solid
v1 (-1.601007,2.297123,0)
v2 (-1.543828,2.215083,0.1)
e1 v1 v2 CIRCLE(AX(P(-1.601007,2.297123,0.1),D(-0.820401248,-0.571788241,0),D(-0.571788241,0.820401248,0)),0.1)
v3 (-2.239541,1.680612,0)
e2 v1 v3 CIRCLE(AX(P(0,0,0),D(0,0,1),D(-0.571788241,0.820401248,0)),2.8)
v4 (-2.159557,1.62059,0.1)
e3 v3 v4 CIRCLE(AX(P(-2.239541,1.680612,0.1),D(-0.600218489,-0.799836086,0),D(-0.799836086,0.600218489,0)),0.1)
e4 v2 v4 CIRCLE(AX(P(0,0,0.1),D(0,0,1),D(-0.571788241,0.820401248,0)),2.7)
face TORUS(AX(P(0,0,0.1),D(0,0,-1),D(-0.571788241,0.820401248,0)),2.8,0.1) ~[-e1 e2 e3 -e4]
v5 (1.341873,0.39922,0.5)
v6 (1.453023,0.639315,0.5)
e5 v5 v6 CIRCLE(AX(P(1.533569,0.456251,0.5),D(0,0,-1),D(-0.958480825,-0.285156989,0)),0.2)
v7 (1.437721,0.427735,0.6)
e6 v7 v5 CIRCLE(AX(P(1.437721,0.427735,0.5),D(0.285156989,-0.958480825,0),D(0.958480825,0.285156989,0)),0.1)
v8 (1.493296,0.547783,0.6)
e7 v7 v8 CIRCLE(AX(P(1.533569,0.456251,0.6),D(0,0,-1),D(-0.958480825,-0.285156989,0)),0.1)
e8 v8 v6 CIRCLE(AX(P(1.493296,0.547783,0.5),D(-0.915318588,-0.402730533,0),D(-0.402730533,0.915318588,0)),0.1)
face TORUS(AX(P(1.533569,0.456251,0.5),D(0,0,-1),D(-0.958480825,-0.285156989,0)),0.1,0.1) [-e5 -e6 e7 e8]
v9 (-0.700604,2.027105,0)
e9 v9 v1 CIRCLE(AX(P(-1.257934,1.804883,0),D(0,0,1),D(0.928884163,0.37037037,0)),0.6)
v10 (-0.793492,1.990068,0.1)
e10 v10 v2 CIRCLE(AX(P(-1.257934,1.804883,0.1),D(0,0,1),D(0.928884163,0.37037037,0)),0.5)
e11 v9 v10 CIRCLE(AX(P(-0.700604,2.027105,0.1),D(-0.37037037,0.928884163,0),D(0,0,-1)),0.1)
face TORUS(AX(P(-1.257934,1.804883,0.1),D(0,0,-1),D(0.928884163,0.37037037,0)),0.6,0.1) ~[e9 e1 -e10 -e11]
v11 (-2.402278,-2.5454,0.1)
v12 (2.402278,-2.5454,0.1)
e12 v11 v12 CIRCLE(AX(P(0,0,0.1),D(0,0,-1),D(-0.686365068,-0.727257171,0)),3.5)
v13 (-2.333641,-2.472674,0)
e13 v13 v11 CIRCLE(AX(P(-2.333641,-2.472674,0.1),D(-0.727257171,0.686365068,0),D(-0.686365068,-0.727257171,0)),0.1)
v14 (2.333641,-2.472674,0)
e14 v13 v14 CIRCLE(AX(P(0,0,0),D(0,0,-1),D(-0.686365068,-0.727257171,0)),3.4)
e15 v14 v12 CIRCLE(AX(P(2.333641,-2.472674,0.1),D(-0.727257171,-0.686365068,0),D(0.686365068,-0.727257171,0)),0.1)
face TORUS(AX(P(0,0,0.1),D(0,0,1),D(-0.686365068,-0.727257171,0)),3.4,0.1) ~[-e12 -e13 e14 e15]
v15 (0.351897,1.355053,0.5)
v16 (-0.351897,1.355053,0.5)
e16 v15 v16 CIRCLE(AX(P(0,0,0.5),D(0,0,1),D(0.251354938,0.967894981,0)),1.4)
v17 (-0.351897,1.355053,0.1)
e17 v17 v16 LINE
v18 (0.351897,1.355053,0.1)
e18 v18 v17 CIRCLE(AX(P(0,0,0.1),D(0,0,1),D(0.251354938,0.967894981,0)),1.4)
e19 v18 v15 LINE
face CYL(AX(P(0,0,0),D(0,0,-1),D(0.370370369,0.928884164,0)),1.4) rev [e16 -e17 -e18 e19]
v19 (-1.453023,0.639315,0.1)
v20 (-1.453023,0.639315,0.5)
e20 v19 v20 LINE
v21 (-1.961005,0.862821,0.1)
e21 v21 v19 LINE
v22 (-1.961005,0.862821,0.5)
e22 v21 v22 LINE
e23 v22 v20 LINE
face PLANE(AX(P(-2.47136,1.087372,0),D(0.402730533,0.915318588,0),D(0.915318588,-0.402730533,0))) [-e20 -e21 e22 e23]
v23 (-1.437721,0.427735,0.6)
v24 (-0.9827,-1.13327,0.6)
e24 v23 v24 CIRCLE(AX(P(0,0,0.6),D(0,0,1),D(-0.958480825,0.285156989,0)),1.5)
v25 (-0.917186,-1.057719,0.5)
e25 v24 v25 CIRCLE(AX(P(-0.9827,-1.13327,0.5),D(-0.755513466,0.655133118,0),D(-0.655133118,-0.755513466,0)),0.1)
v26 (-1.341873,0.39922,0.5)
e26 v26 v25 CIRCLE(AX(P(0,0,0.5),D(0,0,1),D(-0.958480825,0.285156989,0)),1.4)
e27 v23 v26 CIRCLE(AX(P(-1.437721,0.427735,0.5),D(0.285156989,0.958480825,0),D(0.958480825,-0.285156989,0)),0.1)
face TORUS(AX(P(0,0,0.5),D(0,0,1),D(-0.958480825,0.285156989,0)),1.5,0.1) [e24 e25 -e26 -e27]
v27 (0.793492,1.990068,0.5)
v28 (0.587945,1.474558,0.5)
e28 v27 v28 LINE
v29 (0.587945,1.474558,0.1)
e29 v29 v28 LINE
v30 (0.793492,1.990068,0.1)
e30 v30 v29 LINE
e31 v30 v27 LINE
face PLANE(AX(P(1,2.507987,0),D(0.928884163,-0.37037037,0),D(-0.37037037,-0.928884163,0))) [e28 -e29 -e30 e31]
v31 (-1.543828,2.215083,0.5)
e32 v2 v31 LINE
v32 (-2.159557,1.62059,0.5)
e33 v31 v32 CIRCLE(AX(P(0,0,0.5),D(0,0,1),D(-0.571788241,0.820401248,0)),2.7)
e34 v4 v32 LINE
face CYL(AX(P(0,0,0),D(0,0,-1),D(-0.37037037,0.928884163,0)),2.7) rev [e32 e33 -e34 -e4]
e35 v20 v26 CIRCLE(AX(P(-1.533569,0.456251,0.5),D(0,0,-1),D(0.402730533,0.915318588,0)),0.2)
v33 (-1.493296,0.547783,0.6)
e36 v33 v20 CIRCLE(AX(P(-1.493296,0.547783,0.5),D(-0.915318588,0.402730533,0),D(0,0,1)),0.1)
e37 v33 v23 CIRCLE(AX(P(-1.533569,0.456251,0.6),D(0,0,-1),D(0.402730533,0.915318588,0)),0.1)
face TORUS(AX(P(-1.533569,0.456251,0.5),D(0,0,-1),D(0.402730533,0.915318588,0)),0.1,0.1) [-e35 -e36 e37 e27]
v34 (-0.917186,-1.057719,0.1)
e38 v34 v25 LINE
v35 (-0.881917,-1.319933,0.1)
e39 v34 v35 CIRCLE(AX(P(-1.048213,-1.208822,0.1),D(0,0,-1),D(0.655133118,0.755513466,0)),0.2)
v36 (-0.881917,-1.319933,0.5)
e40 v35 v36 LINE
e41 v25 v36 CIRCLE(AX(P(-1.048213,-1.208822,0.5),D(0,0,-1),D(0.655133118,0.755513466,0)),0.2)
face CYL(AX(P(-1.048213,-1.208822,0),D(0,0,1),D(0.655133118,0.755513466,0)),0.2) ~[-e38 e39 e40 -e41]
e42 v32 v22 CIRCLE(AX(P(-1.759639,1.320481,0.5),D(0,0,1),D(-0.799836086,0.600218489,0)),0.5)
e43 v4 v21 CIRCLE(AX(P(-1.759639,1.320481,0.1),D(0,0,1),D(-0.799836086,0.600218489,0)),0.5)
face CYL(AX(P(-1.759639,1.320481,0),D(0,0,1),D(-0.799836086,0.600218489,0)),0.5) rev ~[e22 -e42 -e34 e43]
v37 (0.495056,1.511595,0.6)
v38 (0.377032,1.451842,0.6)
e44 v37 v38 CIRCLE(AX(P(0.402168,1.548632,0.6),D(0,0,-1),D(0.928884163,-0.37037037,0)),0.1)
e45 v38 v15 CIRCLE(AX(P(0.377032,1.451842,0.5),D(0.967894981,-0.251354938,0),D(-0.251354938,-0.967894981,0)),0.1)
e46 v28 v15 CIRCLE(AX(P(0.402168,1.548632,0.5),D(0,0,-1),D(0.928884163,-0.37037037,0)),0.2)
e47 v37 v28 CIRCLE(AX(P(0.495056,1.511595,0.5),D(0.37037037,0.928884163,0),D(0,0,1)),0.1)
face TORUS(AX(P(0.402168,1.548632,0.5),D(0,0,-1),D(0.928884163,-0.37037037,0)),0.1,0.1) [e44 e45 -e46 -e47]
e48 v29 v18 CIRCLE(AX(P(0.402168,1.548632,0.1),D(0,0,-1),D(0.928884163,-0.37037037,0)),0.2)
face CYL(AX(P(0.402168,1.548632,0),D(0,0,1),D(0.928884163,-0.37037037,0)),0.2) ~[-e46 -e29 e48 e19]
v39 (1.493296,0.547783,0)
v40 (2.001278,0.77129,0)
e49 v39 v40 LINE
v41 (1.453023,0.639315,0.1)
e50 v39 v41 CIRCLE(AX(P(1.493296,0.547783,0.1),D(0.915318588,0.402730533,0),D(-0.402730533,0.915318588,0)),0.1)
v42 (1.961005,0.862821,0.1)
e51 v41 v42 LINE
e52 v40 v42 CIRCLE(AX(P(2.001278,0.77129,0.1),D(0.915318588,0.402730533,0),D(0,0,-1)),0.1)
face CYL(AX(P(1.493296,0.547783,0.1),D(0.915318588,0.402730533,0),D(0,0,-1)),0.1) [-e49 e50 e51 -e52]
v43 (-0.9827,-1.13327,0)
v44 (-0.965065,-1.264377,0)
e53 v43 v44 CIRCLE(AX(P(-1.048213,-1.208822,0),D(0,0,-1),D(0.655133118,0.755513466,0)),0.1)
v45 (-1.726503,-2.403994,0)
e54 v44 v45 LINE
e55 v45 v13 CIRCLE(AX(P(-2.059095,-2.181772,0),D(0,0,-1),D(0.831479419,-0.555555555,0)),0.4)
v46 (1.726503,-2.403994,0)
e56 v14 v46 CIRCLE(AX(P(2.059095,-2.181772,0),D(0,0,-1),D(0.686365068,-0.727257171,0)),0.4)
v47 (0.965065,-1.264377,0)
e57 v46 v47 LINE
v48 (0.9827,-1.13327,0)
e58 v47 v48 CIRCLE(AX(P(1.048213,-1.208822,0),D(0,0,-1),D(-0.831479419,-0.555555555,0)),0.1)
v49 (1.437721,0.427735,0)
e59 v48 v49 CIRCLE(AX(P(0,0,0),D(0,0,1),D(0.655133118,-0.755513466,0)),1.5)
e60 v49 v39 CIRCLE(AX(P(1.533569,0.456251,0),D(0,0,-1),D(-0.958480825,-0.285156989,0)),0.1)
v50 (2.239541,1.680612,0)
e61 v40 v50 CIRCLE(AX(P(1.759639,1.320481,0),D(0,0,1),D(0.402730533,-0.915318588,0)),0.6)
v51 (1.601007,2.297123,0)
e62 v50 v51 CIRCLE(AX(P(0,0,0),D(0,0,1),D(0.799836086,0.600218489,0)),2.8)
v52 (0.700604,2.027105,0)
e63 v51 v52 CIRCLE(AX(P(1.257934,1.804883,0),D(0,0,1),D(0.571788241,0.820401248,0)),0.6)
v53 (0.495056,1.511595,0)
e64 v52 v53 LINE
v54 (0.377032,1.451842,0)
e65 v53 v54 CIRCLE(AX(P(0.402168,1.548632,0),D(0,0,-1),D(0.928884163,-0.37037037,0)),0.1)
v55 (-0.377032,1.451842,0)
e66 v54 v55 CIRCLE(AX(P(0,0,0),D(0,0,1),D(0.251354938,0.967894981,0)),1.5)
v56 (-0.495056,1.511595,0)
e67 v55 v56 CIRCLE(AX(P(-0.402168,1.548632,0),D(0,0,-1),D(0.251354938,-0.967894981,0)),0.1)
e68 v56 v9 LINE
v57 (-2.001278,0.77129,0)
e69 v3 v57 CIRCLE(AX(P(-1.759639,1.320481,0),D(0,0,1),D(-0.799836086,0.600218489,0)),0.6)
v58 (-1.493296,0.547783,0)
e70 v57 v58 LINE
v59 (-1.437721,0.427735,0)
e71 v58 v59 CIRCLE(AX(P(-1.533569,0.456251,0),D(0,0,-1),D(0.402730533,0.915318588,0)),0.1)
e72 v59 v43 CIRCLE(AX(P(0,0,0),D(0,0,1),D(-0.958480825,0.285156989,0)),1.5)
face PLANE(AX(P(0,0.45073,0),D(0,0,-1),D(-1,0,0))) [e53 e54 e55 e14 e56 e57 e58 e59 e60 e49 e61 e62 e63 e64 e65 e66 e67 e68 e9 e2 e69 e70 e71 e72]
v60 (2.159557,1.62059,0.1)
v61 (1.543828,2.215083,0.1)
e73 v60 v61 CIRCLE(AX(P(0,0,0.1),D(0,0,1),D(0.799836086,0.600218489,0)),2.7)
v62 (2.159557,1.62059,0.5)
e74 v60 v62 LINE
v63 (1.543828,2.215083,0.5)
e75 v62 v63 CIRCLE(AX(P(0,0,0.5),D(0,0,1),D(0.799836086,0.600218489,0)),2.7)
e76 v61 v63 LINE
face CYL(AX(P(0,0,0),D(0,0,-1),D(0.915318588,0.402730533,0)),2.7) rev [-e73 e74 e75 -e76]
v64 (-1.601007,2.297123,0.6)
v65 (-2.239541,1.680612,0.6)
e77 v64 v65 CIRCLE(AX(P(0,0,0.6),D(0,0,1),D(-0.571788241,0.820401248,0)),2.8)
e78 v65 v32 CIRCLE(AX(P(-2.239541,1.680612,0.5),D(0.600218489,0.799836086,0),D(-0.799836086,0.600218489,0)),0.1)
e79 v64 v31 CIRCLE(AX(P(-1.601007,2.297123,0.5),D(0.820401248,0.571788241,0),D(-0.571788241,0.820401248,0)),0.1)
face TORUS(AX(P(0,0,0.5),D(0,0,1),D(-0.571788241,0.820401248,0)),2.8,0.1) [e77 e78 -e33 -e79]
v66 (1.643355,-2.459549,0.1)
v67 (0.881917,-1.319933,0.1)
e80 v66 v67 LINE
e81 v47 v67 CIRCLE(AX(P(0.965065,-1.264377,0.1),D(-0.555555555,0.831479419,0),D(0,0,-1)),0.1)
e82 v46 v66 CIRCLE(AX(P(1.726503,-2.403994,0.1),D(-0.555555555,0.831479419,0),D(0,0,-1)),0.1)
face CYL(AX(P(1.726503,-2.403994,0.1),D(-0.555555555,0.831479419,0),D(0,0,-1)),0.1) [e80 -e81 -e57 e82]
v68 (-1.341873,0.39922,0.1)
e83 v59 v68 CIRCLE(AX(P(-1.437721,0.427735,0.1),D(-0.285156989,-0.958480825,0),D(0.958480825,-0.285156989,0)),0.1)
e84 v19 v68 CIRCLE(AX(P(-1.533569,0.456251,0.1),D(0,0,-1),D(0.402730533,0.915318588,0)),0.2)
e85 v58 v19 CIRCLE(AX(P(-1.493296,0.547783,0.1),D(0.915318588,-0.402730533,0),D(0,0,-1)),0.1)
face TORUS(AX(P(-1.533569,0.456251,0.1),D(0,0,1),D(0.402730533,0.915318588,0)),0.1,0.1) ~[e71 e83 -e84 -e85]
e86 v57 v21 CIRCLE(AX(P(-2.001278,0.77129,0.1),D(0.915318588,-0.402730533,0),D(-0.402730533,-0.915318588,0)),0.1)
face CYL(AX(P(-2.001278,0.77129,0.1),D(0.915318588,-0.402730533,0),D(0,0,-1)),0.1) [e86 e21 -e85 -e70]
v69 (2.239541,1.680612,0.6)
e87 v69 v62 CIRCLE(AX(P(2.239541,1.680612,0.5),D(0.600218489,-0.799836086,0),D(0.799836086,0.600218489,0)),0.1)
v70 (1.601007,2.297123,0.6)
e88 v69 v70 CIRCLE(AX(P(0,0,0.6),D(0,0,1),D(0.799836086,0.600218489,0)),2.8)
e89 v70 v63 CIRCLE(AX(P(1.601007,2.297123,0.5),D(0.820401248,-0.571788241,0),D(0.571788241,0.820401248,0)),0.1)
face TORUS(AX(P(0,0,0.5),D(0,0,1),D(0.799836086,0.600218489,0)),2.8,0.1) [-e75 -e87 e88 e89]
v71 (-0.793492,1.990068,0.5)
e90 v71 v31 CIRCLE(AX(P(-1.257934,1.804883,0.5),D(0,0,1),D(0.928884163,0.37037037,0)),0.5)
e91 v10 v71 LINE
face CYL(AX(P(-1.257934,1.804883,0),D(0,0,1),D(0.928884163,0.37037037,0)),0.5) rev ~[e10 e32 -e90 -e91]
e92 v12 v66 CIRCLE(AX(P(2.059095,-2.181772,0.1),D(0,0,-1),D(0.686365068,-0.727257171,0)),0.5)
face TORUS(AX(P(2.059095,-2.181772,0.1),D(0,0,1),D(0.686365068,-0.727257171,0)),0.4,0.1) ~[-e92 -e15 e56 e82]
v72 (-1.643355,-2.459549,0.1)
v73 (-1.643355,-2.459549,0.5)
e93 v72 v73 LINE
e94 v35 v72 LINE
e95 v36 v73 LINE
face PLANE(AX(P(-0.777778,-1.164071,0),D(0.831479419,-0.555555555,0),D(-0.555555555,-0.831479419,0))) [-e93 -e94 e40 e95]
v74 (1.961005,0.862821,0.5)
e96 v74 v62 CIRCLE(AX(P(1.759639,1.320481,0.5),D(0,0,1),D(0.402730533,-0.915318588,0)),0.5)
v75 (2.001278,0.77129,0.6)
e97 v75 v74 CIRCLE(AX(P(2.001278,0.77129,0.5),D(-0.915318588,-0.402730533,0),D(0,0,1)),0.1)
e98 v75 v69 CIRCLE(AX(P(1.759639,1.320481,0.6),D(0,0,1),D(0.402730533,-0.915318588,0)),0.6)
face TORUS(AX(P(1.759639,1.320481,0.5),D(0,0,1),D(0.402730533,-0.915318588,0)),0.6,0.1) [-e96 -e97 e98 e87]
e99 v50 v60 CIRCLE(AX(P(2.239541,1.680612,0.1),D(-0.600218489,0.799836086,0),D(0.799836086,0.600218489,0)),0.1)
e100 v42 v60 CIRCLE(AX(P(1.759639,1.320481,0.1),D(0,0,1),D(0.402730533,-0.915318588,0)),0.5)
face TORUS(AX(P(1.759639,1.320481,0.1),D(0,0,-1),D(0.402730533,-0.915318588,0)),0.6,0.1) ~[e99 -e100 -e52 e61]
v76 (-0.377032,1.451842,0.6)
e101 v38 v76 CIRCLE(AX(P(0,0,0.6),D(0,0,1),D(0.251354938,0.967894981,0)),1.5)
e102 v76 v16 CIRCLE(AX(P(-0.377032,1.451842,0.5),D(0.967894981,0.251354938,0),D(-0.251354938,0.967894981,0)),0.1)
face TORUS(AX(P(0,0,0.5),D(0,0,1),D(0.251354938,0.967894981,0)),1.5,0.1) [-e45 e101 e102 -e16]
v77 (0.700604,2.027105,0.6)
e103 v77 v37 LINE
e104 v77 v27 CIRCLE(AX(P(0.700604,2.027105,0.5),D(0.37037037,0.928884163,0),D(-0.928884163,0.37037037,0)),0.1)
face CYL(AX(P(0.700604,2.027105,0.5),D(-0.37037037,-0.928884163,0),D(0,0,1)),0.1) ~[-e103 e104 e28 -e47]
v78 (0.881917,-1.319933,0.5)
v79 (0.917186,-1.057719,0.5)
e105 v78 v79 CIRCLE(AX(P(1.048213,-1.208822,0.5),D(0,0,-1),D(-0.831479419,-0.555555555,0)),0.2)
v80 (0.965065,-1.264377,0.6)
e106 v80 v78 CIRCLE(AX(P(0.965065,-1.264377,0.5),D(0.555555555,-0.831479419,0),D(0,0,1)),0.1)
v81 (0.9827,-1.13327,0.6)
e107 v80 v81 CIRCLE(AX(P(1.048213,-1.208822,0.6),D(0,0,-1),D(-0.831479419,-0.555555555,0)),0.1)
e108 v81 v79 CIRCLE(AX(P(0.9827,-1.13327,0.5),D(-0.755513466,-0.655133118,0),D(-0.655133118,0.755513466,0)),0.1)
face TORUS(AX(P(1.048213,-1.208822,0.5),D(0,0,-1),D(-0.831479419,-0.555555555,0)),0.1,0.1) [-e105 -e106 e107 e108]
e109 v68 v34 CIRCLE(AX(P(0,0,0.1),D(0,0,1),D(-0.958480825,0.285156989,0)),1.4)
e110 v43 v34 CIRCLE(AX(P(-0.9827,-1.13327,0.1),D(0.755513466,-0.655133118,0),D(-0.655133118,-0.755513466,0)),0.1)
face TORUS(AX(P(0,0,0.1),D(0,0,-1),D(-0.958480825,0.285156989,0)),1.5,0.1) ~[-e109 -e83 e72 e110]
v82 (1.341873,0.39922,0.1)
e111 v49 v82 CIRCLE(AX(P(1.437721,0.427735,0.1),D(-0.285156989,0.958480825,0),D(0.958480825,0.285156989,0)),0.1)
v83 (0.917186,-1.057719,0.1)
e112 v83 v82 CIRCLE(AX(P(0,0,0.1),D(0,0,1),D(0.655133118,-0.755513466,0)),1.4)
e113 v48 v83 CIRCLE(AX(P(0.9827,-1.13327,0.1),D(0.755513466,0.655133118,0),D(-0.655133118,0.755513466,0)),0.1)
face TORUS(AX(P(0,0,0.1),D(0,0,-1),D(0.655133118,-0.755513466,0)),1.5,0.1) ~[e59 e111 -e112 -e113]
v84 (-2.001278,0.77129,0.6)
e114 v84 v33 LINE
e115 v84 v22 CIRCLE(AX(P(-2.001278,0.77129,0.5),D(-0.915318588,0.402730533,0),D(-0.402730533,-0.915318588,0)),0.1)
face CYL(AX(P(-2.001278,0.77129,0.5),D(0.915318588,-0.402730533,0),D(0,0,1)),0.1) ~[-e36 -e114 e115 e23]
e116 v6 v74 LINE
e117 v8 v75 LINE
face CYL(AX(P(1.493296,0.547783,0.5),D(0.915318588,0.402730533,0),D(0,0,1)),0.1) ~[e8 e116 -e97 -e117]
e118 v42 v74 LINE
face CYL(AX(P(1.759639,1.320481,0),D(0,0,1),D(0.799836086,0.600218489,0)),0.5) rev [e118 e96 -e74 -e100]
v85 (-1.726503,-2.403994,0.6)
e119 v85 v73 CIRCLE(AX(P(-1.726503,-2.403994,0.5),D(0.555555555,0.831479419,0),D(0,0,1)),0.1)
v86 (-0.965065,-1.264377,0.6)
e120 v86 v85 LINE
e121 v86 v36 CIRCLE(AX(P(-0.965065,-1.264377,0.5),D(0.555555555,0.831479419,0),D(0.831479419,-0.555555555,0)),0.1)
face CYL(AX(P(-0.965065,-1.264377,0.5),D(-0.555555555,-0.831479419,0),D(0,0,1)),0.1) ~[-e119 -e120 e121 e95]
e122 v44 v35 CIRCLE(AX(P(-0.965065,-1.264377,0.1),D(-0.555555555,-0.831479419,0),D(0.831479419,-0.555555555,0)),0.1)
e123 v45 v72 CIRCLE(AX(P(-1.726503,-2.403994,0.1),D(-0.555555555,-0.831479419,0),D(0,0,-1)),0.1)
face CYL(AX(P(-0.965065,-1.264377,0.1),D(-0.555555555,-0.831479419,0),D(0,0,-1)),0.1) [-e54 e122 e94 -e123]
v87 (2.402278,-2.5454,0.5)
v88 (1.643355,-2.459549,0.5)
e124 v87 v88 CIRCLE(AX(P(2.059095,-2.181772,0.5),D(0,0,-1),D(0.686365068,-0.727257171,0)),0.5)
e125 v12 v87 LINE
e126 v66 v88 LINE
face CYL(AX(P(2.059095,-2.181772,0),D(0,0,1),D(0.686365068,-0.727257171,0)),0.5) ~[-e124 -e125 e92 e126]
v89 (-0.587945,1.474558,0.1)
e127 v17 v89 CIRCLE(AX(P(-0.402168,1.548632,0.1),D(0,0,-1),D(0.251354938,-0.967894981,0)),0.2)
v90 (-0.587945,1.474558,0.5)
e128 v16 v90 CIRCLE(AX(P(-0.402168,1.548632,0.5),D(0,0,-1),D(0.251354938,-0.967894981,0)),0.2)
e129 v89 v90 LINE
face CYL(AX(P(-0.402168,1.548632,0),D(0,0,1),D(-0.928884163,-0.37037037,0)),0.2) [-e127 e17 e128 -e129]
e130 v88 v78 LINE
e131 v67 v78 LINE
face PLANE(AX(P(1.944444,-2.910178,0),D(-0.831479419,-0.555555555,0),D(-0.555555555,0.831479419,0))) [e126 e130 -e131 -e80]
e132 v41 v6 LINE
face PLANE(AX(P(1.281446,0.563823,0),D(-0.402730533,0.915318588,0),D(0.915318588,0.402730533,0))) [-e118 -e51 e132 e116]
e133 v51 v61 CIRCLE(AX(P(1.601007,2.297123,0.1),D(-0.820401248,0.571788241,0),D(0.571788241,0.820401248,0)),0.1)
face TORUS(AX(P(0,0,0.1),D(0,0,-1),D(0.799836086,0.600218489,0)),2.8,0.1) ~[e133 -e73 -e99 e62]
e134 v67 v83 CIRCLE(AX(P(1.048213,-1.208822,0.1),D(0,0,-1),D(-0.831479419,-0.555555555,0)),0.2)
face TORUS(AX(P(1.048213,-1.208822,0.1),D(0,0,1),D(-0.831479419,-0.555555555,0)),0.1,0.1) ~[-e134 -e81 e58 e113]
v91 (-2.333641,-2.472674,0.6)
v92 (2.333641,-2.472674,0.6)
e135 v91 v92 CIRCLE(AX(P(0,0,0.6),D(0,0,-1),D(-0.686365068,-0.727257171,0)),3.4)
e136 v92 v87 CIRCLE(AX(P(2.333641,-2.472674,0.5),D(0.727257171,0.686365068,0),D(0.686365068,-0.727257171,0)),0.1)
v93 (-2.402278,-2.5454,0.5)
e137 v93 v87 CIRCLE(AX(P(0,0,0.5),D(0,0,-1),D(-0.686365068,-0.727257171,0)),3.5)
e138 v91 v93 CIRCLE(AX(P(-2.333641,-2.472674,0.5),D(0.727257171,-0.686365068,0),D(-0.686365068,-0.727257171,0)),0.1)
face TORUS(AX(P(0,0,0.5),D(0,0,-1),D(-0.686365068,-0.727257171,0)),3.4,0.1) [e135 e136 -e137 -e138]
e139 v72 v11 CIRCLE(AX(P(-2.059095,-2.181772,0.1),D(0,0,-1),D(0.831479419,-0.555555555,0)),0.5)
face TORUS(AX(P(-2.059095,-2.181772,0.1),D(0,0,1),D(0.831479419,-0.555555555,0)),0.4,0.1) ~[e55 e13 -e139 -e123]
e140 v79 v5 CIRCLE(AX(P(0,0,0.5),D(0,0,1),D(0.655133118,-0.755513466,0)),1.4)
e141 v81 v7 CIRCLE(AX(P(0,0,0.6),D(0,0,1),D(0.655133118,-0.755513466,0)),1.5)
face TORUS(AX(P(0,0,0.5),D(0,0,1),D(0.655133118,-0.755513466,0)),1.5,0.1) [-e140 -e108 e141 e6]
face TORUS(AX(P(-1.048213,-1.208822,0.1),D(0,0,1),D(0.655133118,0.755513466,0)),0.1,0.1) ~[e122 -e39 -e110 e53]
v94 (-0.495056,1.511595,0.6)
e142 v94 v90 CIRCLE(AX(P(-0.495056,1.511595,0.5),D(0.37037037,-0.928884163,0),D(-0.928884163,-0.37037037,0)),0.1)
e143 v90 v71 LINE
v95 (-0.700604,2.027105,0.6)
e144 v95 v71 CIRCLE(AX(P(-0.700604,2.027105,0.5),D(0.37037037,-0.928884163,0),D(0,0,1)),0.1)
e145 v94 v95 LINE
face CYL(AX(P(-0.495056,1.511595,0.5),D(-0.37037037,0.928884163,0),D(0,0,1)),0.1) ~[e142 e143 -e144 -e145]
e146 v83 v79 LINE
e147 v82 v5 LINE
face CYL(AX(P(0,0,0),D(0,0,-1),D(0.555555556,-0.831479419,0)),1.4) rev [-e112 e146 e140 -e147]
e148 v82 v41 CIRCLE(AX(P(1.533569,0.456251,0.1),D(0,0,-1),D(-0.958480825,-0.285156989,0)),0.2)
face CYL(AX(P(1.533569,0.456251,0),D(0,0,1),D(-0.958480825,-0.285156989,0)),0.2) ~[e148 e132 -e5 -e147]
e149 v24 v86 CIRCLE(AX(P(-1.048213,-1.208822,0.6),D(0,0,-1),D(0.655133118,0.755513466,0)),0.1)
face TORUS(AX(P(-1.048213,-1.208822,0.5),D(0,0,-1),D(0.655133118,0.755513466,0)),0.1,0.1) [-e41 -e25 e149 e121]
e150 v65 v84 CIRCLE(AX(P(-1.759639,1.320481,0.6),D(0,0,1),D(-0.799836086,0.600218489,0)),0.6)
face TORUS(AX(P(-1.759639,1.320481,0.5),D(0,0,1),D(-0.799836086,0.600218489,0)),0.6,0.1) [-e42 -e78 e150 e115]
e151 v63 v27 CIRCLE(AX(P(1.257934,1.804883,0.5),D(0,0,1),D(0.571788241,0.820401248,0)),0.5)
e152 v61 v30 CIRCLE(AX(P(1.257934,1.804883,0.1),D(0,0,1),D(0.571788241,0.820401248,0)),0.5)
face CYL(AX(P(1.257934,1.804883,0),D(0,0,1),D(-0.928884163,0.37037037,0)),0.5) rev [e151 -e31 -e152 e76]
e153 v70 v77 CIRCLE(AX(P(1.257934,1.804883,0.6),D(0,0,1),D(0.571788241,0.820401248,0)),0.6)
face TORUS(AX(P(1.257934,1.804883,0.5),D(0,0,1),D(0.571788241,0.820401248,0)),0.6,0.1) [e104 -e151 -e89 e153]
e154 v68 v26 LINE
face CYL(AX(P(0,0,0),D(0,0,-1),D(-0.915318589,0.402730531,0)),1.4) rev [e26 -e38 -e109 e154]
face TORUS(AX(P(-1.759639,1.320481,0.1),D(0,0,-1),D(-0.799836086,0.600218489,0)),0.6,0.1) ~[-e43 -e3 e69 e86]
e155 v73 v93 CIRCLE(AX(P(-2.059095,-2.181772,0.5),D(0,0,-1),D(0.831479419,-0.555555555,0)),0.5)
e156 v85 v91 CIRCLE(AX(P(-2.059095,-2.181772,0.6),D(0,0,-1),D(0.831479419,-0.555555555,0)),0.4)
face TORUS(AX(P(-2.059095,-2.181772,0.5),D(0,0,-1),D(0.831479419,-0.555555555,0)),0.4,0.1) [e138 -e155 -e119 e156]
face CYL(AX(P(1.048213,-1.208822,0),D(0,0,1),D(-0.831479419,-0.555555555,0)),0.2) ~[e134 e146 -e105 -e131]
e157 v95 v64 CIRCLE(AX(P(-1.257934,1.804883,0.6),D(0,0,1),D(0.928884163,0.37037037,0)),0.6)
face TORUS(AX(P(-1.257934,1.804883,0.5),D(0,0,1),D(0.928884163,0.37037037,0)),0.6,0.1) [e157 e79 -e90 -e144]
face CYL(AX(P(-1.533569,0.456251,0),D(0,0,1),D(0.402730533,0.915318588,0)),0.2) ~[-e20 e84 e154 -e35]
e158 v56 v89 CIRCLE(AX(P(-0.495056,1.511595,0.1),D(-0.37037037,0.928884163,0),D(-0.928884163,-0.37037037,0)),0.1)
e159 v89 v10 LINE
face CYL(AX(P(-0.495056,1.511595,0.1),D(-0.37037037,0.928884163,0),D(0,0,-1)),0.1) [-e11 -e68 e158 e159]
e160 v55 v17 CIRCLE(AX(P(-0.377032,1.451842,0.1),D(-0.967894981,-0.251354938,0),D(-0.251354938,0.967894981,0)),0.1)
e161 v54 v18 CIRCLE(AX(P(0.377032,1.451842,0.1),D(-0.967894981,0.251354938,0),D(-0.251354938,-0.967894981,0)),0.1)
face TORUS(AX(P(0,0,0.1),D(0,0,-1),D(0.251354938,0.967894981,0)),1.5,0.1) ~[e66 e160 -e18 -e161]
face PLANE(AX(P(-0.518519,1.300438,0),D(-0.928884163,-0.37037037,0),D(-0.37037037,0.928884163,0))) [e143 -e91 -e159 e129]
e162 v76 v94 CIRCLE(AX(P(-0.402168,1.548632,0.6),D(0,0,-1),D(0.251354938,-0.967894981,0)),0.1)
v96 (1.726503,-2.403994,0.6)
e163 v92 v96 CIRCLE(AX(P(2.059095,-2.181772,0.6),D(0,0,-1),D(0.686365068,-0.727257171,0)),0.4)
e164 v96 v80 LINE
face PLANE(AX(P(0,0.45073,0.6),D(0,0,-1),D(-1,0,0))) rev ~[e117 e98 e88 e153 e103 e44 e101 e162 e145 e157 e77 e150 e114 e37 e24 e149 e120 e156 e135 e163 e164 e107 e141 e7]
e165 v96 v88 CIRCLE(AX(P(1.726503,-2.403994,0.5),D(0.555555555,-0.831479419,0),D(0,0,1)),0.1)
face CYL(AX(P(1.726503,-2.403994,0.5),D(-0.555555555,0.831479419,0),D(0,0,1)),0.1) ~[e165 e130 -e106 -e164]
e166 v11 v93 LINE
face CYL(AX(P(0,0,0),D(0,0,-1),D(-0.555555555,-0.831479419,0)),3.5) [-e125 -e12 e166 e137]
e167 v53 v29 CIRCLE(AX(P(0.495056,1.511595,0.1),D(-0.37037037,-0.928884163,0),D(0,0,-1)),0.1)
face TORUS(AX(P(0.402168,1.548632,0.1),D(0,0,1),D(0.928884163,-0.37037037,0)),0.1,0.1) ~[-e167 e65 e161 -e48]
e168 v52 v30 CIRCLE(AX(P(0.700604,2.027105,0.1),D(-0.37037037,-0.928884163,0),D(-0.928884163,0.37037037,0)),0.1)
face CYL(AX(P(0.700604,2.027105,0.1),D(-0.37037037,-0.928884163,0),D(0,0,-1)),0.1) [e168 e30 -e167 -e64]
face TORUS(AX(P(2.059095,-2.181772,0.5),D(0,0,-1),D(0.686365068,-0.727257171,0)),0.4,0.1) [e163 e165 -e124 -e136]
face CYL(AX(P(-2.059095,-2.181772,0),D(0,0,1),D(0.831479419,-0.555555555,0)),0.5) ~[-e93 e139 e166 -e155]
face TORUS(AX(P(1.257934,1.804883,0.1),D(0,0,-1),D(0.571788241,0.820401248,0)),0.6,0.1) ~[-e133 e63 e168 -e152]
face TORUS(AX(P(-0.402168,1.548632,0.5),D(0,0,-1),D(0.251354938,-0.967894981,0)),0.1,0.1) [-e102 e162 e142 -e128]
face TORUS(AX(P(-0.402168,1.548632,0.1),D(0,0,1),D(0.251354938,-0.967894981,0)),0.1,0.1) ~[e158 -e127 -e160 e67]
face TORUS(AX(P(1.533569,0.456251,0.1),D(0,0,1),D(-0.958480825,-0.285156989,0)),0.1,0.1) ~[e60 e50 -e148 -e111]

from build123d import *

# Parameters (mm, degrees)
EXTRUDE_1_DEPTH = 0.6
FILLET_1_R      = 0.2
FILLET_2_R      = 0.5
FILLET_3_R      = 0.1


with BuildPart() as part:
    # 草图1 → 凸台-拉伸1 (new body)
    with BuildSketch(Plane.XY):
        with BuildLine():
            Line((-0.518518519, 1.300437829), (-1, 2.507987241))
            ThreePointArc((-1, 2.507987241), (-1.875399156, 1.942389767), (-2.471360189, 1.087372438))
            Line((-2.471360189, 1.087372438), (-1.281446024, 0.563822745))
            ThreePointArc((-1.281446024, 0.563822745), (-1.34406288, -0.391784346), (-0.777777778, -1.164071187))
            Line((-0.777777778, -1.164071187), (-1.944444444, -2.910177967))
            ThreePointArc((-1.944444444, -2.910177967), (0, 3.5), (1.944444444, -2.910177967))
            Line((1.944444444, -2.910177967), (0.777777778, -1.164071187))
            ThreePointArc((0.777777778, -1.164071187), (1.34406288, -0.391784346), (1.281446024, 0.563822745))
            Line((1.281446024, 0.563822745), (2.471360189, 1.087372438))
            ThreePointArc((2.471360189, 1.087372438), (1.875399156, 1.942389767), (1, 2.507987241))
            Line((1, 2.507987241), (0.518518519, 1.300437829))
            ThreePointArc((0.518518519, 1.300437829), (0, 1.4), (-0.518518519, 1.300437829))
        make_face()
    extrude(amount=EXTRUDE_1_DEPTH)

    # 圆角1
    fillet_1_edges = [part.edges().sort_by_distance(p)[0] for p in [
        (0.518518519, 1.300437829, 0.3),
        (-0.518518519, 1.300437829, 0.3),
        (-1.281446024, 0.563822745, 0.3),
        (-0.777777778, -1.164071187, 0.3),
        (0.777777778, -1.164071187, 0.3),
        (1.281446024, 0.563822745, 0.3),
    ]]
    fillet(fillet_1_edges, radius=FILLET_1_R)

    # 圆角2
    fillet_2_edges = [part.edges().sort_by_distance(p)[0] for p in [
        (1, 2.507987241, 0.3),
        (-1, 2.507987241, 0.3),
        (-2.471360189, 1.087372438, 0.3),
        (-1.944444444, -2.910177967, 0.3),
        (1.944444444, -2.910177967, 0.3),
        (2.471360189, 1.087372438, 0.3),
    ]]
    fillet(fillet_2_edges, radius=FILLET_2_R)

    # 圆角3
    fillet_3_edges = [part.edges().sort_by_distance(p)[0] for p in [
        (1.262636299, -1.889740975, 0),
        (1.262636299, -1.889740975, 0.6),
        (0.690718392, 1.732312913, 0),
        (0, 1.4, 0),
        (-1.707013935, 0.751068141, 0),
        (-1.34406288, -0.391784346, 0),
        (1.34406288, -0.391784346, 0),
        (-0.849997983, -1.182160492, 0),
        (-1.352074472, 0.540272729, 0),
        (-0.492505133, 1.37019659, 0),
        (0.492505133, 1.37019659, 0),
        (1.352074472, 0.540272729, 0),
        (0.849997983, -1.182160492, 0),
        (1.34406288, -0.391784346, 0.6),
        (-1.34406288, -0.391784346, 0.6),
        (-1.707013935, 0.751068141, 0.6),
        (0, 1.4, 0.6),
        (0.690718392, 1.732312913, 0.6),
        (-0.849997983, -1.182160492, 0.6),
        (-1.352074472, 0.540272729, 0.6),
        (-0.492505133, 1.37019659, 0.6),
        (0.492505133, 1.37019659, 0.6),
        (1.352074472, 0.540272729, 0.6),
        (0.849997983, -1.182160492, 0.6),
        (0, 3.5, 0),
        (0, 3.5, 0.6),
        (1.707013935, 0.751068141, 0),
        (1.875399156, 1.942389767, 0),
        (-0.690718392, 1.732312913, 0),
        (-1.875399156, 1.942389767, 0),
        (-1.262636299, -1.889740975, 0),
        (-2.002892658, -2.678602746, 0),
        (2.002892658, -2.678602746, 0),
        (-1.262636299, -1.889740975, 0.6),
        (-1.875399156, 1.942389767, 0.6),
        (-0.690718392, 1.732312913, 0.6),
        (1.875399156, 1.942389767, 0.6),
        (1.707013935, 0.751068141, 0.6),
        (-2.002892658, -2.678602746, 0.6),
        (2.002892658, -2.678602746, 0.6),
        (2.243311484, 1.193747469, 0),
        (2.243311484, 1.193747469, 0.6),
        (1.114310209, 2.283810892, 0),
        (1.114310209, 2.283810892, 0.6),
        (-2.243311484, 1.193747469, 0),
        (-2.243311484, 1.193747469, 0.6),
        (-1.114310209, 2.283810892, 0),
        (-1.114310209, 2.283810892, 0.6),
    ]]
    fillet(fillet_3_edges, radius=FILLET_3_R)


solid = part.part
